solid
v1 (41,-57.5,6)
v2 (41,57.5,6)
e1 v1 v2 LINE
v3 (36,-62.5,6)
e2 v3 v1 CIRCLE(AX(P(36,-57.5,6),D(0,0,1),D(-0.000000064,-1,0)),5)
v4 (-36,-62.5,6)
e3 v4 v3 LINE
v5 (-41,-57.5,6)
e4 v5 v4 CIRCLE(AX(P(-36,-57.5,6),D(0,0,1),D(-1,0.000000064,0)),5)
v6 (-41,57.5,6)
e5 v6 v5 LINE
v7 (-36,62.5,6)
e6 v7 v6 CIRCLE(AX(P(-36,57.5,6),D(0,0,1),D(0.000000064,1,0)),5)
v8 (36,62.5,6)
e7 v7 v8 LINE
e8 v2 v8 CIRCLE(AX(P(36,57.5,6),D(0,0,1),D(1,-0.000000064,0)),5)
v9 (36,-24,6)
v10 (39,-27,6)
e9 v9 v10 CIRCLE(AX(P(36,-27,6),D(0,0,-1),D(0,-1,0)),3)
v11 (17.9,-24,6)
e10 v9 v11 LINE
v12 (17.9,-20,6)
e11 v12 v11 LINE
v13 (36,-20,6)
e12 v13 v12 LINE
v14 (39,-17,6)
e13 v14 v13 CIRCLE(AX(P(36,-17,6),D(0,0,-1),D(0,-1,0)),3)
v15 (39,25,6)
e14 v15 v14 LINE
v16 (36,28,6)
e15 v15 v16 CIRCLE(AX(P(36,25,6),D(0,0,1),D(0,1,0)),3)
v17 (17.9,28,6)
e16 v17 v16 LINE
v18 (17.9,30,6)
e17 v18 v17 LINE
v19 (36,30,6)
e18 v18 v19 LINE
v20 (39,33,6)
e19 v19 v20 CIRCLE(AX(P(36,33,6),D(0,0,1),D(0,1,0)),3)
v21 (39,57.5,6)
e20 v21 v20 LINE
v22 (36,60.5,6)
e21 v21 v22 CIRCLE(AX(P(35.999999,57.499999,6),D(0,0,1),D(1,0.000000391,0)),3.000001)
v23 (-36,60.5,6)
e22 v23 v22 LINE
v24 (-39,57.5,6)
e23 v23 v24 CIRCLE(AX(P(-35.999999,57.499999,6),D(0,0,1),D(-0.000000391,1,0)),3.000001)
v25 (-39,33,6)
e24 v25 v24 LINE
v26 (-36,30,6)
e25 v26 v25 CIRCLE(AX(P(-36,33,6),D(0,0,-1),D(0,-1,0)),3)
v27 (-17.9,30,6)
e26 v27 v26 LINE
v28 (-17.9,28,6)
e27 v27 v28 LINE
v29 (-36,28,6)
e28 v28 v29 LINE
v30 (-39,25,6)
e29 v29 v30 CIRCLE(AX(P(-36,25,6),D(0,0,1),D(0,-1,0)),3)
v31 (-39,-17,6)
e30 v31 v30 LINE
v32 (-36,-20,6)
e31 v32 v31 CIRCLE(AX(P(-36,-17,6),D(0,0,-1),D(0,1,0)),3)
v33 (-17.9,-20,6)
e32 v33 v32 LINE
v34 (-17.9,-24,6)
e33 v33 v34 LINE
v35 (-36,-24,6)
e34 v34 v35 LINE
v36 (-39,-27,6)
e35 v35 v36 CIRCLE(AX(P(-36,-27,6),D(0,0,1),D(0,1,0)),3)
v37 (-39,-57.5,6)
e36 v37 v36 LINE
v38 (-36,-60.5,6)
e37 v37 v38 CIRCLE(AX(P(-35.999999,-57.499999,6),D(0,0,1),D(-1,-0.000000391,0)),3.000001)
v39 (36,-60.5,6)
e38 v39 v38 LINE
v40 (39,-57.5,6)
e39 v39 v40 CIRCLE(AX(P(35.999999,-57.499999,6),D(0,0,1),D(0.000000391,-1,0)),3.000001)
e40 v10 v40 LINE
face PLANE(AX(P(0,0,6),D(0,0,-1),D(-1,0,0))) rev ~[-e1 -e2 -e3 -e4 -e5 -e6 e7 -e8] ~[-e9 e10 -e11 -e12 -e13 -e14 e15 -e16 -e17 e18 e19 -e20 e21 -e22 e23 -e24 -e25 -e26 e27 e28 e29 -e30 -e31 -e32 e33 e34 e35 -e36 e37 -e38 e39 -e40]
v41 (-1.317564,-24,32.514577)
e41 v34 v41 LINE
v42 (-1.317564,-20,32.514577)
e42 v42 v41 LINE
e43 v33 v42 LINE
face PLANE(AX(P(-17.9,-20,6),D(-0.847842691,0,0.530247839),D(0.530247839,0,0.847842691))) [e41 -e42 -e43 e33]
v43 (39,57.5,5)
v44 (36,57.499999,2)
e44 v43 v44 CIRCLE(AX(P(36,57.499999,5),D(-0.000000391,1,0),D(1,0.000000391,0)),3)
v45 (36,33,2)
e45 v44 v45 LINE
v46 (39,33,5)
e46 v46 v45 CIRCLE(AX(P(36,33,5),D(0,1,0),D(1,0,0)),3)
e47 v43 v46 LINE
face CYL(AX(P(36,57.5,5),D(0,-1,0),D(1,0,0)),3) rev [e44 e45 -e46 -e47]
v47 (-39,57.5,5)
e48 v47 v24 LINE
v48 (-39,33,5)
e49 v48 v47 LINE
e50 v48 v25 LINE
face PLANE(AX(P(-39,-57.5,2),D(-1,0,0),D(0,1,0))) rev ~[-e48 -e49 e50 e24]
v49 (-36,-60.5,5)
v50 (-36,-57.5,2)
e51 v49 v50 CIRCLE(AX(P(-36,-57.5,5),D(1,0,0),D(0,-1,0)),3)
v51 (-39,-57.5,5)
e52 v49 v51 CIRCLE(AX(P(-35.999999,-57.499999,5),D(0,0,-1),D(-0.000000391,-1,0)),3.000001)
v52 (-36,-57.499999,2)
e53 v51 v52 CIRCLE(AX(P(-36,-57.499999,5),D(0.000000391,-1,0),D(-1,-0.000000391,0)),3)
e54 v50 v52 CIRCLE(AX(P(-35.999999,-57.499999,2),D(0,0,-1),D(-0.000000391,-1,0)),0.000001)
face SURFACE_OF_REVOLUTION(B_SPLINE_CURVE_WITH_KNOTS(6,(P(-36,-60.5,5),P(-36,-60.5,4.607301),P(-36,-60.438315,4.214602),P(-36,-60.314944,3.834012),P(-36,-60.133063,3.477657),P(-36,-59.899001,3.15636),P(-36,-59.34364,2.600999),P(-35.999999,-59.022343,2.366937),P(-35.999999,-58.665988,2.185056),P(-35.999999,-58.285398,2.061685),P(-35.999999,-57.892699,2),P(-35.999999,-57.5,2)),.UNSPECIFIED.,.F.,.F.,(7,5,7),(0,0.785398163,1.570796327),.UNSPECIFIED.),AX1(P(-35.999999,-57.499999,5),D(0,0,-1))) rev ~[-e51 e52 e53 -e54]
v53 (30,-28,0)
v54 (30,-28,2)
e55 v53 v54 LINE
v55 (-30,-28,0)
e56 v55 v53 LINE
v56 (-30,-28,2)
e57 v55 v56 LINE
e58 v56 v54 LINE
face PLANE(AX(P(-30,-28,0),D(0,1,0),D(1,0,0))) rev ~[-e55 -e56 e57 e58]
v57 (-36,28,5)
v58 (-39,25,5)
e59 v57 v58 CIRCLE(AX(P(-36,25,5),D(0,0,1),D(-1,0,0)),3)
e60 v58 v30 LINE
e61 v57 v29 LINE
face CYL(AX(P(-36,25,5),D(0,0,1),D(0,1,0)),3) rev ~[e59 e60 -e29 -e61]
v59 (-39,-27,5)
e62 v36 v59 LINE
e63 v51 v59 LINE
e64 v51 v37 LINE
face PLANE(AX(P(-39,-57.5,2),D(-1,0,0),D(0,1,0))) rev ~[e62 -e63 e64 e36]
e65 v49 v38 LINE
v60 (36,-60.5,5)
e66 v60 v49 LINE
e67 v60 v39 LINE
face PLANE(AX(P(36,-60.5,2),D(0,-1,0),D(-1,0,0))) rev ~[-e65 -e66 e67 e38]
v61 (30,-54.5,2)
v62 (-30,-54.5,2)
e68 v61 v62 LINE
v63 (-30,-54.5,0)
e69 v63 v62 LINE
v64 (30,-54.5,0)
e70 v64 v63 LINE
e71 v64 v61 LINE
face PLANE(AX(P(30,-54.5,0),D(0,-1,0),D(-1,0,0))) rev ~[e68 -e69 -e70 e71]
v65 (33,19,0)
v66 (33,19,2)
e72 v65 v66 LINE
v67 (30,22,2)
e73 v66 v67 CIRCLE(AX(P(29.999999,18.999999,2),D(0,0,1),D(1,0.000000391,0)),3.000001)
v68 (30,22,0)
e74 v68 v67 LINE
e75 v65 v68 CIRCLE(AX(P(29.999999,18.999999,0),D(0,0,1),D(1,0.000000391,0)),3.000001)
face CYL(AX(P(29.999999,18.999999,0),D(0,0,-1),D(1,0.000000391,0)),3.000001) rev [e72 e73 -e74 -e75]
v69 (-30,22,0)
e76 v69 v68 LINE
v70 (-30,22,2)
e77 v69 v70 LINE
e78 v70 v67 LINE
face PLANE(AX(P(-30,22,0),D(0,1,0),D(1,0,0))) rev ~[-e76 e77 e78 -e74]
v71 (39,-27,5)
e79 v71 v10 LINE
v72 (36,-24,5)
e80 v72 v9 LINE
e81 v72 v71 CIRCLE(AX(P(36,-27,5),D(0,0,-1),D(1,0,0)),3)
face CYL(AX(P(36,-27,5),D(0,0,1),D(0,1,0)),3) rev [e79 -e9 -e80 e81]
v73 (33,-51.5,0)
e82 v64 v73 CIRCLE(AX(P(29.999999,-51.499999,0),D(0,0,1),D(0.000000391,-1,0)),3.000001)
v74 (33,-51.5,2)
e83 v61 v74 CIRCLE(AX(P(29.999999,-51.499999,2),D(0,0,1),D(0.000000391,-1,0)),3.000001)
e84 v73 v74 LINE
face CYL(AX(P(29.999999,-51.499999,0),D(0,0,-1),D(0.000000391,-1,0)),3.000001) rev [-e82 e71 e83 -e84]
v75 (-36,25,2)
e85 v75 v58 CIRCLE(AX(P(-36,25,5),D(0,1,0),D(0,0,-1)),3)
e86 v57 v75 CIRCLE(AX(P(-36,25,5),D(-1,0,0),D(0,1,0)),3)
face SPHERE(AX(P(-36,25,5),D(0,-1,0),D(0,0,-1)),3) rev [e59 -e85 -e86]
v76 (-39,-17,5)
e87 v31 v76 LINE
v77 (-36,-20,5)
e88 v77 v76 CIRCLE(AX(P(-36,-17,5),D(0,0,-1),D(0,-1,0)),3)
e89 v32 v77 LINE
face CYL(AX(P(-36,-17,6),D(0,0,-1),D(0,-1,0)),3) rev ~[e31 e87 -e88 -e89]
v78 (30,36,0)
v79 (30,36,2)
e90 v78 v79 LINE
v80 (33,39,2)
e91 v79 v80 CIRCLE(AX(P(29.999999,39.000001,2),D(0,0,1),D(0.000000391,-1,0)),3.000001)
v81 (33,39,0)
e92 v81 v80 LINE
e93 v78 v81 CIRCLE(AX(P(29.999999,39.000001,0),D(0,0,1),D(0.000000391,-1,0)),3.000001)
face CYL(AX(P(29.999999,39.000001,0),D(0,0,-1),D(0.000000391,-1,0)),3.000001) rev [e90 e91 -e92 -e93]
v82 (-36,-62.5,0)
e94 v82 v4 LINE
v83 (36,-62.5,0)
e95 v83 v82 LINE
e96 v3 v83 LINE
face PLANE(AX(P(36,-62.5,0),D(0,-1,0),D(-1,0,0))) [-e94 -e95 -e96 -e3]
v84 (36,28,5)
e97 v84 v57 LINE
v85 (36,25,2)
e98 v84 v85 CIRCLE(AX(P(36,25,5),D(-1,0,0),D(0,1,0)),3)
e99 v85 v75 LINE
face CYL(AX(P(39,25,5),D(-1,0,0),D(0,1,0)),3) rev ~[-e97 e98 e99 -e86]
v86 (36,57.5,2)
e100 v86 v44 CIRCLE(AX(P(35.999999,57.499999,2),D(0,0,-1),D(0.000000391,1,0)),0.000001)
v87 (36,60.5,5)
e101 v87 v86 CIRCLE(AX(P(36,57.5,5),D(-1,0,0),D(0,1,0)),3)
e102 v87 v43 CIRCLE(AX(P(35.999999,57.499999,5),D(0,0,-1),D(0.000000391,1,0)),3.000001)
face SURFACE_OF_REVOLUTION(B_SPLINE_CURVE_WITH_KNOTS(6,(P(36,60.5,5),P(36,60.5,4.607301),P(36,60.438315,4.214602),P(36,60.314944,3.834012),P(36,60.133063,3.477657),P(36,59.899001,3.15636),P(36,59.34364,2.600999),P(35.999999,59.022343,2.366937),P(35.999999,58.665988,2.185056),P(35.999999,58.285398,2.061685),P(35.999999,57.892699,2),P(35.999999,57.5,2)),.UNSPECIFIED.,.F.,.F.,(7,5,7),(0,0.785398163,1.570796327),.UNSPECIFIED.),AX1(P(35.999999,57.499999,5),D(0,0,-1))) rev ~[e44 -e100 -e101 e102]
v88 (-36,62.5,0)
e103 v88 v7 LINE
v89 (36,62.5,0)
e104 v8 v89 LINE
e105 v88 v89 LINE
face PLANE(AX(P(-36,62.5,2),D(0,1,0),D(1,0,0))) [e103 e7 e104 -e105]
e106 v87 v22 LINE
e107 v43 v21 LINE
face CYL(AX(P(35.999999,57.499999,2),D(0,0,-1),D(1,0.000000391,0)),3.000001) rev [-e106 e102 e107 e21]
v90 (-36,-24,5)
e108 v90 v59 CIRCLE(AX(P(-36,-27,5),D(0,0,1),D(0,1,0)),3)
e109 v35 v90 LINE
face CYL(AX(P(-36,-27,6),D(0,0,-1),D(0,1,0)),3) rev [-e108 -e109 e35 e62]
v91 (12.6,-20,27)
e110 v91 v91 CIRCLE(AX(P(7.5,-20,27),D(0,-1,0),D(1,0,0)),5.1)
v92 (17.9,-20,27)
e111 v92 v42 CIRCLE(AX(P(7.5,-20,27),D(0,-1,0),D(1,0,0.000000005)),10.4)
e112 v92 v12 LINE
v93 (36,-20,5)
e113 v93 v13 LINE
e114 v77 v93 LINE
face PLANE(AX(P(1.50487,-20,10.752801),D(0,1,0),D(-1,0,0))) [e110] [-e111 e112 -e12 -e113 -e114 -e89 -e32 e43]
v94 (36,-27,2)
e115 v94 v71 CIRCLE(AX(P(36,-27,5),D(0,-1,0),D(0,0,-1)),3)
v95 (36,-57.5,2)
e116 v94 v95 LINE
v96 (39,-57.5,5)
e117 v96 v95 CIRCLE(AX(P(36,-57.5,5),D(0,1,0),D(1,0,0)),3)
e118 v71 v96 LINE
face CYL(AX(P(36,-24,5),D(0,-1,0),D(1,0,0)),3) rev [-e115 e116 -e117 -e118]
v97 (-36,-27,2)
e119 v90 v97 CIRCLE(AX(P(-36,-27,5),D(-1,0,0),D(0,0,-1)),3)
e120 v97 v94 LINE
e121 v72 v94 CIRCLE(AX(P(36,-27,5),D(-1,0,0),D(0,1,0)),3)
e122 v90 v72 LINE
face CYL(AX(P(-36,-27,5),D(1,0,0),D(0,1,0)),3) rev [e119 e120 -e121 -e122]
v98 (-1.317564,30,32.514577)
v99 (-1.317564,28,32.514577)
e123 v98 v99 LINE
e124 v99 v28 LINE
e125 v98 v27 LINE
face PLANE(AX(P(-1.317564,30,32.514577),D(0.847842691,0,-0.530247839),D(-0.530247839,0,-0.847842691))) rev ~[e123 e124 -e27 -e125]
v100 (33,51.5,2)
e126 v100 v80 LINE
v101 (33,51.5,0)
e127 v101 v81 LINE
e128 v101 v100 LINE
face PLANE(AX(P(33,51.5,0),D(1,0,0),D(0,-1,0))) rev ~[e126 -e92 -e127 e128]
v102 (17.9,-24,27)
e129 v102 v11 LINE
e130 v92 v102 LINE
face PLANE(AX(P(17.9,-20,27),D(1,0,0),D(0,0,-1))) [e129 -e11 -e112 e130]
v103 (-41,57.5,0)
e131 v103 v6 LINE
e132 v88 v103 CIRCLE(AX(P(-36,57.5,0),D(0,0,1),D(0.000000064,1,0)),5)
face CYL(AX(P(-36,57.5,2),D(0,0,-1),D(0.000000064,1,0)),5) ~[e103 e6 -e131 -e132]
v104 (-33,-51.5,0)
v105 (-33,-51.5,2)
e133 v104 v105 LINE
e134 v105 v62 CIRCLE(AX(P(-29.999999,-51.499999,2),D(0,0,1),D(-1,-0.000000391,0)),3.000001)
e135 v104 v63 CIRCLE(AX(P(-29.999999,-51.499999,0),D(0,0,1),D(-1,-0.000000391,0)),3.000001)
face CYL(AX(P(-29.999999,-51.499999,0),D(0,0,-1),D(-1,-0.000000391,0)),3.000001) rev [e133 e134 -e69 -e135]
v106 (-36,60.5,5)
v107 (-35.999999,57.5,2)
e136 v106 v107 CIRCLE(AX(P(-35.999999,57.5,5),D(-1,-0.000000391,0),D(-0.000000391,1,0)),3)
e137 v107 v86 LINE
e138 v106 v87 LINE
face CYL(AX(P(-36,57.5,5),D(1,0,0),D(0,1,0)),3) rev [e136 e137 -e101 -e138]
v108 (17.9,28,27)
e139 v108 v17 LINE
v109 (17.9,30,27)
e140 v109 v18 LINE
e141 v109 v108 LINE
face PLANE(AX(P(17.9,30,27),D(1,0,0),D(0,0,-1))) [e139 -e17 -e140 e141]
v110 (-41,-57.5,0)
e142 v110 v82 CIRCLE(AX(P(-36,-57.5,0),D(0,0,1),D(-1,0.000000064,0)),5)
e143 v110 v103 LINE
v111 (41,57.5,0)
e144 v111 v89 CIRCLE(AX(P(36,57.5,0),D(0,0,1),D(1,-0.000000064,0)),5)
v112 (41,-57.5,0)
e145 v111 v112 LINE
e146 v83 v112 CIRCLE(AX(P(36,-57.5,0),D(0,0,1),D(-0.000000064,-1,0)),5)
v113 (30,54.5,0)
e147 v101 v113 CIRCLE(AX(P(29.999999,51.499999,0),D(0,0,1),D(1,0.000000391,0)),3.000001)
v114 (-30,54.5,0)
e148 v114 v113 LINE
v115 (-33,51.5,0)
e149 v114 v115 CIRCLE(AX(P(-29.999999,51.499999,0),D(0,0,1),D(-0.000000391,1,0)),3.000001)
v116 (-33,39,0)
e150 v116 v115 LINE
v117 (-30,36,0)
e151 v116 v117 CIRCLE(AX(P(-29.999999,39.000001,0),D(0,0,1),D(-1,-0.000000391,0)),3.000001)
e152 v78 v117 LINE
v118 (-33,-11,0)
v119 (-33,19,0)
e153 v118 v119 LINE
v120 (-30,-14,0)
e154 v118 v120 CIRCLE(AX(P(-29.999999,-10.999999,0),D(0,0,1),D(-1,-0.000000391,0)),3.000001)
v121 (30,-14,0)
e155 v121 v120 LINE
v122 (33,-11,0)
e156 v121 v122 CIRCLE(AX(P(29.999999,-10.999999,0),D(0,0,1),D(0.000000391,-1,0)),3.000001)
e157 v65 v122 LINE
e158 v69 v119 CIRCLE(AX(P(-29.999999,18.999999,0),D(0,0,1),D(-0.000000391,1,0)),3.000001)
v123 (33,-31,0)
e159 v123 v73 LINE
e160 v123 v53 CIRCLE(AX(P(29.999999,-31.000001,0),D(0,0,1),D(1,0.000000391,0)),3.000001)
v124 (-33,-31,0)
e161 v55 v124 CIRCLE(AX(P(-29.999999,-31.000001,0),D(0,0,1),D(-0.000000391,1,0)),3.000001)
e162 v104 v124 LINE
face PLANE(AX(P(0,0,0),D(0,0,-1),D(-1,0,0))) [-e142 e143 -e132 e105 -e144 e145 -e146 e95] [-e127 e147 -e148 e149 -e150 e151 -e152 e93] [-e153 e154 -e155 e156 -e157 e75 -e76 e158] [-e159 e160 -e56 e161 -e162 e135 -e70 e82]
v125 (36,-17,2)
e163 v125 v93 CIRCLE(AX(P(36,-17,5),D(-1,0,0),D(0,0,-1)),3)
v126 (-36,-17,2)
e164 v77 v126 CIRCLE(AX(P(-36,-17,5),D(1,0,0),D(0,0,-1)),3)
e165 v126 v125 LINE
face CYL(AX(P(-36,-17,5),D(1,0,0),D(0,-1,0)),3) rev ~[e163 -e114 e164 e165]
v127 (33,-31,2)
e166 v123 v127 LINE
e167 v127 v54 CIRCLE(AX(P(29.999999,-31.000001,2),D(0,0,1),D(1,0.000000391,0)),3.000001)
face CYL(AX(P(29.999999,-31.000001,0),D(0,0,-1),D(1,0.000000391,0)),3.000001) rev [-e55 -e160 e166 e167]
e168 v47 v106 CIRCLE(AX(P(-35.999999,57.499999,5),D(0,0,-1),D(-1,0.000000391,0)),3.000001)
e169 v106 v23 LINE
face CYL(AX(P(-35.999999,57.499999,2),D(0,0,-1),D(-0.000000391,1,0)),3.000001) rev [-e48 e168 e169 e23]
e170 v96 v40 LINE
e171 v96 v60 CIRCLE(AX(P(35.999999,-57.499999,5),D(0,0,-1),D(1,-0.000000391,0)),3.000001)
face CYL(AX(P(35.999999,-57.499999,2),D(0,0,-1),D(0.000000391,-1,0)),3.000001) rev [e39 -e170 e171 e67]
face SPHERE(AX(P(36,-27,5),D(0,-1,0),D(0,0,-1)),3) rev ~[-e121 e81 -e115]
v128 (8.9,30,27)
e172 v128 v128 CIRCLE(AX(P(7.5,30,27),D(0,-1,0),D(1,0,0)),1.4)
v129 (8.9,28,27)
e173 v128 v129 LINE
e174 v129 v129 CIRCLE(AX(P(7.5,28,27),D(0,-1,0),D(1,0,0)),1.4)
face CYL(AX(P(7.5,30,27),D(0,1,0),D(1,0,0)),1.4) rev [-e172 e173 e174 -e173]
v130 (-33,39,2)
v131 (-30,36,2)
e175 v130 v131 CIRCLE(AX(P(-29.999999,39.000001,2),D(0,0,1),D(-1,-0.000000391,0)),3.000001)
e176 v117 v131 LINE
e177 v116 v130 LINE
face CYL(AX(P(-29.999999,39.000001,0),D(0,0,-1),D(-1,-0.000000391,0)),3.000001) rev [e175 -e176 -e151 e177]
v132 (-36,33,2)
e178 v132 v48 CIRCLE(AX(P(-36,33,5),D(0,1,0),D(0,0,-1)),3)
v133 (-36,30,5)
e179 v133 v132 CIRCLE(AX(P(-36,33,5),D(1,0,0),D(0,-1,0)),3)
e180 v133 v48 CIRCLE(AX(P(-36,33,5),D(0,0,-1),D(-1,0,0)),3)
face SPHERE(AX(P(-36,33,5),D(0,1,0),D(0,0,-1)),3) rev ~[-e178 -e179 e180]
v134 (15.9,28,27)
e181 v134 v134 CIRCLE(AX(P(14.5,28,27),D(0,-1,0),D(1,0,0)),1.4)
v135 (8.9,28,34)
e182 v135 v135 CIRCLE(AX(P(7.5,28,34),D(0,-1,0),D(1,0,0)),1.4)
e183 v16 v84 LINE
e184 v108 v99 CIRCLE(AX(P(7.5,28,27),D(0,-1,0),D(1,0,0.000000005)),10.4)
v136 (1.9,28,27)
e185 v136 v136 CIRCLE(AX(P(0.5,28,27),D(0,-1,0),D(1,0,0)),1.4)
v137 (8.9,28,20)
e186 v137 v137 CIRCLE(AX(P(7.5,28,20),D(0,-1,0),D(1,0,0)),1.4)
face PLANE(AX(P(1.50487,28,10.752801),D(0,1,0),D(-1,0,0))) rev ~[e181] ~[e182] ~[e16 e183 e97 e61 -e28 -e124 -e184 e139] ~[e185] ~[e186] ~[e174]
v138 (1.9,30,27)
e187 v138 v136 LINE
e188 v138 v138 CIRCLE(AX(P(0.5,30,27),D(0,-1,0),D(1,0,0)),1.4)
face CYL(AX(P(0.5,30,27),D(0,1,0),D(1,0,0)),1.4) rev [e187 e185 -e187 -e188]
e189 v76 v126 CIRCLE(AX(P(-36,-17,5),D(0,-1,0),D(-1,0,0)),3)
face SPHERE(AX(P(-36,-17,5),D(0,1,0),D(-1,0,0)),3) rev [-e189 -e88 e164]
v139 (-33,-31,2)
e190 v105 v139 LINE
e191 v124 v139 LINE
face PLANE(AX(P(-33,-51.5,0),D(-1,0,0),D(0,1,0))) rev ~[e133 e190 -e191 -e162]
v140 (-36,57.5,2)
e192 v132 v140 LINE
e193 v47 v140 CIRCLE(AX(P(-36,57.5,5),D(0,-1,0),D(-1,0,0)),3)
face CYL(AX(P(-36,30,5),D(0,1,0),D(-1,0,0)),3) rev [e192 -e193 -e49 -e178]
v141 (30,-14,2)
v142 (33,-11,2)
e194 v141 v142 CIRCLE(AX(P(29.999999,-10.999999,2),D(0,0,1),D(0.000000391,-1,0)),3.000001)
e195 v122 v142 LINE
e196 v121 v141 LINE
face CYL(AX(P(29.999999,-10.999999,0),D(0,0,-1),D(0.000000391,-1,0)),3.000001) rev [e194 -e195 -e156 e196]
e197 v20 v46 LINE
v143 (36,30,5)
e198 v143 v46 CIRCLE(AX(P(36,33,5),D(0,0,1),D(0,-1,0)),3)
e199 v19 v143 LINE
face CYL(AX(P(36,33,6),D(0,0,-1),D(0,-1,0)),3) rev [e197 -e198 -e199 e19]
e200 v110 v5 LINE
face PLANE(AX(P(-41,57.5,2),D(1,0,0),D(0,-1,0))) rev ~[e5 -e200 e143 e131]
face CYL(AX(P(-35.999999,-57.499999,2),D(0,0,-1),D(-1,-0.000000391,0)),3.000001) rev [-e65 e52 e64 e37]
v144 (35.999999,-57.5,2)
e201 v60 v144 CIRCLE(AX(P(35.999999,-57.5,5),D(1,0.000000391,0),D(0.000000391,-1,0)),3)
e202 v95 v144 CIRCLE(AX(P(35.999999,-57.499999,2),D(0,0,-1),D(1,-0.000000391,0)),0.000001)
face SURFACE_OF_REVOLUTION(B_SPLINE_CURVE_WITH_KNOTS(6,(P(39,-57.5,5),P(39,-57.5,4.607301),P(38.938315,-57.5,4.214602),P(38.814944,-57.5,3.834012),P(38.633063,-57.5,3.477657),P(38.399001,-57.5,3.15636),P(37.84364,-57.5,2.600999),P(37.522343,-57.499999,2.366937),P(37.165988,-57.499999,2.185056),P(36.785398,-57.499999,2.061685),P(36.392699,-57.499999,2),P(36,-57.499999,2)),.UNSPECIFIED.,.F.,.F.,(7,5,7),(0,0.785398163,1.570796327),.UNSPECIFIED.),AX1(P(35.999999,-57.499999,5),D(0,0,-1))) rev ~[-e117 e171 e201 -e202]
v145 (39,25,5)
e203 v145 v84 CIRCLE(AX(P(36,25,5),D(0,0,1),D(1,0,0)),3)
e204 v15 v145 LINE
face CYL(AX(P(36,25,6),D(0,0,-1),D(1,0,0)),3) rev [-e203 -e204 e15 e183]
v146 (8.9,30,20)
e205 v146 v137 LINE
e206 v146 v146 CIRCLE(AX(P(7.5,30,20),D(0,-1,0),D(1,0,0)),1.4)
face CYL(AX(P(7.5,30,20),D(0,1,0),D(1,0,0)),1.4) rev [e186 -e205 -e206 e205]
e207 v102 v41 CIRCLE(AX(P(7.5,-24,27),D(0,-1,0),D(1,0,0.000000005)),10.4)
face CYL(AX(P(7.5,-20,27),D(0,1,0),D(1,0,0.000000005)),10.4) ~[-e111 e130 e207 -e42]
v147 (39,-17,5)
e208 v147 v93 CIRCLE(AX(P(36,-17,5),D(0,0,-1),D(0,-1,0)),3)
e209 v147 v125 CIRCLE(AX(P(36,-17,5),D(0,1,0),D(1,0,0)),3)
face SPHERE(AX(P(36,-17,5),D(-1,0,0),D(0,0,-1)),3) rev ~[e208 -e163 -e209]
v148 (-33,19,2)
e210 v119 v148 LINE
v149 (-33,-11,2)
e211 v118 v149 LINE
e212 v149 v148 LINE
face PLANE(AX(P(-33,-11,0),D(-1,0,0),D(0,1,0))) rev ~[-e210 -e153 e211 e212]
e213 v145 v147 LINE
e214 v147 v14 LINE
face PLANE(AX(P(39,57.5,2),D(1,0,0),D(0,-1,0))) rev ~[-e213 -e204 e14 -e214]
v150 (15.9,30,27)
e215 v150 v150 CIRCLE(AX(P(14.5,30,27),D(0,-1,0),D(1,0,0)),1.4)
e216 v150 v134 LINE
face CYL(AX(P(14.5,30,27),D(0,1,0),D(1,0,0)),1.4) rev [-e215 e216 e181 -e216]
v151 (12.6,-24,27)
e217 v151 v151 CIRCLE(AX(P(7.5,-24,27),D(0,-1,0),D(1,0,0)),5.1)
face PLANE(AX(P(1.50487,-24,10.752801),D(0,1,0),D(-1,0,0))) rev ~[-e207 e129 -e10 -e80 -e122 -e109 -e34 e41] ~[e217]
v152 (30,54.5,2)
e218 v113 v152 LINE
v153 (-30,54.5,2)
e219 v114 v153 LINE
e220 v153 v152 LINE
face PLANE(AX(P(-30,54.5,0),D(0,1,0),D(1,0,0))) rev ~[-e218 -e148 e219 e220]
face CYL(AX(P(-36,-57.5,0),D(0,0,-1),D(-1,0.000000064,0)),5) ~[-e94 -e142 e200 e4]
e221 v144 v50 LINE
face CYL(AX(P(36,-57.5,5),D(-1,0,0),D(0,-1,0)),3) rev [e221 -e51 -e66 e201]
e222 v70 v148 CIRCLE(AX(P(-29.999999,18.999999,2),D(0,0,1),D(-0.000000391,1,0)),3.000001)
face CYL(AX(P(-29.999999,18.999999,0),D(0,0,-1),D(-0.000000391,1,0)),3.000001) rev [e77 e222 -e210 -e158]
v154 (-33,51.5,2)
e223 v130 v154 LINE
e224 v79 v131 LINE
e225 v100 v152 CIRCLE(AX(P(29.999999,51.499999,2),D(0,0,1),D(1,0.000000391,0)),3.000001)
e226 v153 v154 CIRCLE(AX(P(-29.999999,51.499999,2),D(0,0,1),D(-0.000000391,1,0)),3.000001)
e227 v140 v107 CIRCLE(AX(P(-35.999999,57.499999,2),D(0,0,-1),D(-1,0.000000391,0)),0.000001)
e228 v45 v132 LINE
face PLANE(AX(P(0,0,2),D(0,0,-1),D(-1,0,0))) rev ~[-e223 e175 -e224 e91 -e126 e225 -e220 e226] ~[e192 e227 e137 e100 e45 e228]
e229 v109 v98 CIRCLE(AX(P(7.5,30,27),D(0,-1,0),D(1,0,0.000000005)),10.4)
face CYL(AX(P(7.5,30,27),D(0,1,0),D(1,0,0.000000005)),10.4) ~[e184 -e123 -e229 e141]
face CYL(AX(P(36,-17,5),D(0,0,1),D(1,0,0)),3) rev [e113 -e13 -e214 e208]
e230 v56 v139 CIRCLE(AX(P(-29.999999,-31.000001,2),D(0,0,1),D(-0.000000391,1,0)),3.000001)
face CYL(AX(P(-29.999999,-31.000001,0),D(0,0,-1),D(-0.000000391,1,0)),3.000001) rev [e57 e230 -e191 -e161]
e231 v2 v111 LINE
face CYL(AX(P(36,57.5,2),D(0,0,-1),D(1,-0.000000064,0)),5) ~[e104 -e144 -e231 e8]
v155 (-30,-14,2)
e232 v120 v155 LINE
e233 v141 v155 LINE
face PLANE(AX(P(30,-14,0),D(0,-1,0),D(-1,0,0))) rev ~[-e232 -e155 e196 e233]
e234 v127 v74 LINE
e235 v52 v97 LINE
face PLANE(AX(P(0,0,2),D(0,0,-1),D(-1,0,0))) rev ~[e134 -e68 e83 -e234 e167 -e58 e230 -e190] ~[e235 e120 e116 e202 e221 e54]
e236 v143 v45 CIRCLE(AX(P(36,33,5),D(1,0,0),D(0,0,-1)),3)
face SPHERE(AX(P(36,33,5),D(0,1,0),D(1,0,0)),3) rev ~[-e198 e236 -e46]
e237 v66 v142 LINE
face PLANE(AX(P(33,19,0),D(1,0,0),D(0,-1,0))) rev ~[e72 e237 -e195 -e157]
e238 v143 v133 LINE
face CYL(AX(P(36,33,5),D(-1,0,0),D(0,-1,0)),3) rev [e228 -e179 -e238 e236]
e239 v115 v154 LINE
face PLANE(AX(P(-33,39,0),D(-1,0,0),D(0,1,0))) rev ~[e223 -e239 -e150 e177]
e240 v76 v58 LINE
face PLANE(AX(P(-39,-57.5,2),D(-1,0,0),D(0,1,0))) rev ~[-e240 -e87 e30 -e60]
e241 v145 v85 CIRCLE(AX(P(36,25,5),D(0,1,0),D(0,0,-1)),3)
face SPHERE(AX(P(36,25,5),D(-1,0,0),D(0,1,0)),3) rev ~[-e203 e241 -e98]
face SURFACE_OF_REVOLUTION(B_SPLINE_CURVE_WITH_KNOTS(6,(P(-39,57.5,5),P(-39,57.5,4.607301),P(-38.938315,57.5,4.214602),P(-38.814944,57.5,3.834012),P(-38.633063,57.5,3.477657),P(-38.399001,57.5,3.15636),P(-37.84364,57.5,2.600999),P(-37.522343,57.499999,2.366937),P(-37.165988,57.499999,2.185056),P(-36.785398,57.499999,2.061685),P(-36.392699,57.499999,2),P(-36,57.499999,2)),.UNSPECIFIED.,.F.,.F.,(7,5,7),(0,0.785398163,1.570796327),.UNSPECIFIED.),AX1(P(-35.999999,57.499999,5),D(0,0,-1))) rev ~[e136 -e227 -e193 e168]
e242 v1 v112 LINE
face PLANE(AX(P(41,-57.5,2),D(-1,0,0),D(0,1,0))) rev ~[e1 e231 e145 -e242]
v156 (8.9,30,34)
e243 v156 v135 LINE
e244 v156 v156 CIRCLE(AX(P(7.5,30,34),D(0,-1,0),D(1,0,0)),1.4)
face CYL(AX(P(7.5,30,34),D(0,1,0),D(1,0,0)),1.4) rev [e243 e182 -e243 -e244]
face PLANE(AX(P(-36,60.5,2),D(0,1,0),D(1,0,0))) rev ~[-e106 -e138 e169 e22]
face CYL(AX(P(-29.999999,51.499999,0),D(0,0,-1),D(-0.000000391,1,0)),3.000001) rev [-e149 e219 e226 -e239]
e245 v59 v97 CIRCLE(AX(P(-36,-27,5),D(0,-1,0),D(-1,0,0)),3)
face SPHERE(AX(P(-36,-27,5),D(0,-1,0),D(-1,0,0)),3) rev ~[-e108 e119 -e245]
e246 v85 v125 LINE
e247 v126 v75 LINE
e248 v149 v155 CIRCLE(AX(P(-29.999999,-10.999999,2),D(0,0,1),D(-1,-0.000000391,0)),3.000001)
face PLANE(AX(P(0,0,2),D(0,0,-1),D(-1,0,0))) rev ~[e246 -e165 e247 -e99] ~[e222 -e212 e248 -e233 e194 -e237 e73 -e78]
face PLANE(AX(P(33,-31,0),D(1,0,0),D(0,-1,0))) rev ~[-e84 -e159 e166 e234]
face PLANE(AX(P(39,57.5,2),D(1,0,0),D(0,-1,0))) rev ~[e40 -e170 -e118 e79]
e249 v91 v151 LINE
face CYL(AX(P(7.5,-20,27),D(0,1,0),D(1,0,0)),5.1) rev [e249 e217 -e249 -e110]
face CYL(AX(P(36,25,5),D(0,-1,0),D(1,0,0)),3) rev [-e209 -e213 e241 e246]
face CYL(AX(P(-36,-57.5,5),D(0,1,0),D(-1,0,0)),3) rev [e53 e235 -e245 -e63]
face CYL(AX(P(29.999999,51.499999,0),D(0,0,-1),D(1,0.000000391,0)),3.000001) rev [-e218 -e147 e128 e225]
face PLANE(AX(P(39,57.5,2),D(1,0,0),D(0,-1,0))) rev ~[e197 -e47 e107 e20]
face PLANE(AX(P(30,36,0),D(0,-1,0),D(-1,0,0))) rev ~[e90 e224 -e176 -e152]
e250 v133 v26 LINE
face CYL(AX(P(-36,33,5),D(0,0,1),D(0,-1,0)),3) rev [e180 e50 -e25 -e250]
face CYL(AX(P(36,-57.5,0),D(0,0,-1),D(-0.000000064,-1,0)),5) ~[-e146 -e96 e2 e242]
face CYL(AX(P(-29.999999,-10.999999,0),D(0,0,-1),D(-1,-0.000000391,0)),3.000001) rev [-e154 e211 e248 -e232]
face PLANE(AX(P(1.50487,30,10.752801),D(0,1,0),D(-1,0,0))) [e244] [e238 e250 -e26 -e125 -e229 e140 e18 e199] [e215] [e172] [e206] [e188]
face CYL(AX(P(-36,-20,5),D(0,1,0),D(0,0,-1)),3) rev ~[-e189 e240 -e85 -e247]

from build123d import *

# Parameters (mm, degrees)
PAD_DEPTH    = 2
SKETCH001_R  = 5.1
PAD001_DEPTH = 4
SKETCH003_R  = 1.4
PAD003_DEPTH = 2
PAD004_DEPTH = 4
FILLET_R     = 3
FILLET001_R  = 3
FILLET002_R  = 3
FILLET003_R  = 3
FILLET004_R  = 3
FILLET005_R  = 3
FILLET006_R  = 3
FILLET007_R  = 3


with BuildPart() as part:
    # Sketch → Pad (new body)
    with BuildSketch(Plane.XY):
        with BuildLine():
            Line((-36, 62.5), (36, 62.5))
            ThreePointArc((41, 57.5), (39.535534, 61.035534), (36, 62.5))
            Line((41, 57.5), (41, -57.5))
            ThreePointArc((36, -62.5), (39.535534, -61.035534), (41, -57.5))
            Line((36, -62.5), (-36, -62.5))
            ThreePointArc((-41, -57.5), (-39.535534, -61.035534), (-36, -62.5))
            Line((-41, -57.5), (-41, 57.5))
            ThreePointArc((-36, 62.5), (-39.535534, 61.035534), (-41, 57.5))
        make_face()
        with BuildLine():
            ThreePointArc((-30, 54.5), (-32.12132, 53.62132), (-33, 51.5))
            Line((-33, 39), (-33, 51.5))
            ThreePointArc((-33, 39), (-32.12132, 36.87868), (-30, 36))
            Line((30, 36), (-30, 36))
            ThreePointArc((30, 36), (32.12132, 36.87868), (33, 39))
            Line((33, 51.5), (33, 39))
            ThreePointArc((33, 51.5), (32.12132, 53.62132), (30, 54.5))
            Line((-30, 54.5), (30, 54.5))
        make_face(mode=Mode.SUBTRACT)
        with BuildLine():
            ThreePointArc((-30, -28), (-32.12132, -28.87868), (-33, -31))
            Line((-33, -51.5), (-33, -31))
            ThreePointArc((-33, -51.5), (-32.12132, -53.62132), (-30, -54.5))
            Line((30, -54.5), (-30, -54.5))
            ThreePointArc((30, -54.5), (32.12132, -53.62132), (33, -51.5))
            Line((33, -31), (33, -51.5))
            ThreePointArc((33, -31), (32.12132, -28.87868), (30, -28))
            Line((-30, -28), (30, -28))
        make_face(mode=Mode.SUBTRACT)
        with BuildLine():
            ThreePointArc((-30, 22), (-32.12132, 21.12132), (-33, 19))
            Line((-33, -11), (-33, 19))
            ThreePointArc((-33, -11), (-32.12132, -13.12132), (-30, -14))
            Line((30, -14), (-30, -14))
            ThreePointArc((30, -14), (32.12132, -13.12132), (33, -11))
            Line((33, 19), (33, -11))
            ThreePointArc((33, 19), (32.12132, 21.12132), (30, 22))
            Line((-30, 22), (30, 22))
        make_face(mode=Mode.SUBTRACT)
    extrude(amount=PAD_DEPTH)

    # Sketch001 → Pad001 (join)
    with BuildSketch(Plane(origin=(7.5, -20, 0), x_dir=(1, 0, 0), z_dir=(0, -1, 0))):
        with BuildLine():
            Line((10.4, 27), (10.4, 6))
            Line((33.5, 6), (10.4, 6))
            Line((33.5, 2), (33.5, 6))
            Line((-48.5, 2), (33.5, 2))
            Line((-48.5, 6), (-48.5, 2))
            Line((-25.4, 6), (-48.5, 6))
            Line((-25.4, 6), (-8.817564, 32.514577))
            ThreePointArc((10.4, 27), (2.868565, 36.996566), (-8.817564, 32.514577))
        make_face()
        with Locations((0, 27)):
            Circle(SKETCH001_R, mode=Mode.SUBTRACT)
    extrude(amount=PAD001_DEPTH)

    # Sketch003 → Pad003 (join)
    with BuildSketch(Plane(origin=(7.5, 30, 0), x_dir=(1, 0, 0), z_dir=(0, -1, 0))):
        with BuildLine():
            Line((33.5, 2), (-48.5, 2))
            Line((-48.5, 6), (-48.5, 2))
            Line((-25.4, 6), (-48.5, 6))
            Line((-8.817564, 32.514577), (-25.4, 6))
            ThreePointArc((10.4, 27), (2.868565, 36.996566), (-8.817564, 32.514577))
            Line((10.4, 27), (10.4, 6))
            Line((10.4, 6), (33.5, 6))
            Line((33.5, 6), (33.5, 2))
        make_face()
        with Locations((0, 27)):
            Circle(SKETCH003_R, mode=Mode.SUBTRACT)
        with Locations((-7, 27)):
            Circle(SKETCH003_R, mode=Mode.SUBTRACT)
        with Locations((0, 20)):
            Circle(SKETCH003_R, mode=Mode.SUBTRACT)
        with Locations((7, 27)):
            Circle(SKETCH003_R, mode=Mode.SUBTRACT)
        with Locations((0, 34)):
            Circle(SKETCH003_R, mode=Mode.SUBTRACT)
    extrude(amount=PAD003_DEPTH)

    # Sketch004 (on Face5 of Pad003) → Pad004 (join)
    with BuildSketch(Plane.XY.offset(2)):
        with BuildLine():
            Line((-36, 62.5), (36, 62.5))
            ThreePointArc((41, 57.5), (39.535534, 61.035534), (36, 62.5))
            Line((41, -57.5), (41, 57.5))
            ThreePointArc((36, -62.5), (39.535534, -61.035534), (41, -57.5))
            Line((-36, -62.5), (36, -62.5))
            ThreePointArc((-41, -57.5), (-39.535534, -61.035534), (-36, -62.5))
            Line((-41, 57.5), (-41, -57.5))
            ThreePointArc((-36, 62.5), (-39.535534, 61.035534), (-41, 57.5))
        make_face()
        with BuildLine():
            Line((-36, 60.5), (36, 60.5))
            ThreePointArc((39, 57.5), (38.12132, 59.62132), (36, 60.5))
            Line((39, 57.5), (39, -57.5))
            ThreePointArc((36, -60.5), (38.12132, -59.62132), (39, -57.5))
            Line((36, -60.5), (-36, -60.5))
            ThreePointArc((-39, -57.5), (-38.12132, -59.62132), (-36, -60.5))
            Line((-39, -57.5), (-39, 57.5))
            ThreePointArc((-36, 60.5), (-38.12132, 59.62132), (-39, 57.5))
        make_face(mode=Mode.SUBTRACT)
    extrude(amount=PAD004_DEPTH)

    # Fillet
    fillet_edges = [part.edges().sort_by_distance(p)[0] for p in [
        (-39, 4, 2),
    ]]
    fillet(fillet_edges, radius=FILLET_R)

    # Fillet001
    fillet001_edges = [part.edges().sort_by_distance(p)[0] for p in [
        (-39, -40.75, 2),
    ]]
    fillet(fillet001_edges, radius=FILLET001_R)

    # Fillet002
    fillet002_edges = [part.edges().sort_by_distance(p)[0] for p in [
        (0, -24, 2),
    ]]
    fillet(fillet002_edges, radius=FILLET002_R)

    # Fillet003
    fillet003_edges = [part.edges().sort_by_distance(p)[0] for p in [
        (1.5, 28, 2),
    ]]
    fillet(fillet003_edges, radius=FILLET003_R)

    # Fillet004
    fillet004_edges = [part.edges().sort_by_distance(p)[0] for p in [
        (1.5, -20, 2),
    ]]
    fillet(fillet004_edges, radius=FILLET004_R)

    # Fillet005
    fillet005_edges = [part.edges().sort_by_distance(p)[0] for p in [
        (39, 4, 2),
    ]]
    fillet(fillet005_edges, radius=FILLET005_R)

    # Fillet006
    fillet006_edges = [part.edges().sort_by_distance(p)[0] for p in [
        (0, 60.5, 2),
    ]]
    fillet(fillet006_edges, radius=FILLET006_R)

    # Fillet007
    fillet007_edges = [part.edges().sort_by_distance(p)[0] for p in [
        (0, 30, 2),
    ]]
    fillet(fillet007_edges, radius=FILLET007_R)


solid = part.part
